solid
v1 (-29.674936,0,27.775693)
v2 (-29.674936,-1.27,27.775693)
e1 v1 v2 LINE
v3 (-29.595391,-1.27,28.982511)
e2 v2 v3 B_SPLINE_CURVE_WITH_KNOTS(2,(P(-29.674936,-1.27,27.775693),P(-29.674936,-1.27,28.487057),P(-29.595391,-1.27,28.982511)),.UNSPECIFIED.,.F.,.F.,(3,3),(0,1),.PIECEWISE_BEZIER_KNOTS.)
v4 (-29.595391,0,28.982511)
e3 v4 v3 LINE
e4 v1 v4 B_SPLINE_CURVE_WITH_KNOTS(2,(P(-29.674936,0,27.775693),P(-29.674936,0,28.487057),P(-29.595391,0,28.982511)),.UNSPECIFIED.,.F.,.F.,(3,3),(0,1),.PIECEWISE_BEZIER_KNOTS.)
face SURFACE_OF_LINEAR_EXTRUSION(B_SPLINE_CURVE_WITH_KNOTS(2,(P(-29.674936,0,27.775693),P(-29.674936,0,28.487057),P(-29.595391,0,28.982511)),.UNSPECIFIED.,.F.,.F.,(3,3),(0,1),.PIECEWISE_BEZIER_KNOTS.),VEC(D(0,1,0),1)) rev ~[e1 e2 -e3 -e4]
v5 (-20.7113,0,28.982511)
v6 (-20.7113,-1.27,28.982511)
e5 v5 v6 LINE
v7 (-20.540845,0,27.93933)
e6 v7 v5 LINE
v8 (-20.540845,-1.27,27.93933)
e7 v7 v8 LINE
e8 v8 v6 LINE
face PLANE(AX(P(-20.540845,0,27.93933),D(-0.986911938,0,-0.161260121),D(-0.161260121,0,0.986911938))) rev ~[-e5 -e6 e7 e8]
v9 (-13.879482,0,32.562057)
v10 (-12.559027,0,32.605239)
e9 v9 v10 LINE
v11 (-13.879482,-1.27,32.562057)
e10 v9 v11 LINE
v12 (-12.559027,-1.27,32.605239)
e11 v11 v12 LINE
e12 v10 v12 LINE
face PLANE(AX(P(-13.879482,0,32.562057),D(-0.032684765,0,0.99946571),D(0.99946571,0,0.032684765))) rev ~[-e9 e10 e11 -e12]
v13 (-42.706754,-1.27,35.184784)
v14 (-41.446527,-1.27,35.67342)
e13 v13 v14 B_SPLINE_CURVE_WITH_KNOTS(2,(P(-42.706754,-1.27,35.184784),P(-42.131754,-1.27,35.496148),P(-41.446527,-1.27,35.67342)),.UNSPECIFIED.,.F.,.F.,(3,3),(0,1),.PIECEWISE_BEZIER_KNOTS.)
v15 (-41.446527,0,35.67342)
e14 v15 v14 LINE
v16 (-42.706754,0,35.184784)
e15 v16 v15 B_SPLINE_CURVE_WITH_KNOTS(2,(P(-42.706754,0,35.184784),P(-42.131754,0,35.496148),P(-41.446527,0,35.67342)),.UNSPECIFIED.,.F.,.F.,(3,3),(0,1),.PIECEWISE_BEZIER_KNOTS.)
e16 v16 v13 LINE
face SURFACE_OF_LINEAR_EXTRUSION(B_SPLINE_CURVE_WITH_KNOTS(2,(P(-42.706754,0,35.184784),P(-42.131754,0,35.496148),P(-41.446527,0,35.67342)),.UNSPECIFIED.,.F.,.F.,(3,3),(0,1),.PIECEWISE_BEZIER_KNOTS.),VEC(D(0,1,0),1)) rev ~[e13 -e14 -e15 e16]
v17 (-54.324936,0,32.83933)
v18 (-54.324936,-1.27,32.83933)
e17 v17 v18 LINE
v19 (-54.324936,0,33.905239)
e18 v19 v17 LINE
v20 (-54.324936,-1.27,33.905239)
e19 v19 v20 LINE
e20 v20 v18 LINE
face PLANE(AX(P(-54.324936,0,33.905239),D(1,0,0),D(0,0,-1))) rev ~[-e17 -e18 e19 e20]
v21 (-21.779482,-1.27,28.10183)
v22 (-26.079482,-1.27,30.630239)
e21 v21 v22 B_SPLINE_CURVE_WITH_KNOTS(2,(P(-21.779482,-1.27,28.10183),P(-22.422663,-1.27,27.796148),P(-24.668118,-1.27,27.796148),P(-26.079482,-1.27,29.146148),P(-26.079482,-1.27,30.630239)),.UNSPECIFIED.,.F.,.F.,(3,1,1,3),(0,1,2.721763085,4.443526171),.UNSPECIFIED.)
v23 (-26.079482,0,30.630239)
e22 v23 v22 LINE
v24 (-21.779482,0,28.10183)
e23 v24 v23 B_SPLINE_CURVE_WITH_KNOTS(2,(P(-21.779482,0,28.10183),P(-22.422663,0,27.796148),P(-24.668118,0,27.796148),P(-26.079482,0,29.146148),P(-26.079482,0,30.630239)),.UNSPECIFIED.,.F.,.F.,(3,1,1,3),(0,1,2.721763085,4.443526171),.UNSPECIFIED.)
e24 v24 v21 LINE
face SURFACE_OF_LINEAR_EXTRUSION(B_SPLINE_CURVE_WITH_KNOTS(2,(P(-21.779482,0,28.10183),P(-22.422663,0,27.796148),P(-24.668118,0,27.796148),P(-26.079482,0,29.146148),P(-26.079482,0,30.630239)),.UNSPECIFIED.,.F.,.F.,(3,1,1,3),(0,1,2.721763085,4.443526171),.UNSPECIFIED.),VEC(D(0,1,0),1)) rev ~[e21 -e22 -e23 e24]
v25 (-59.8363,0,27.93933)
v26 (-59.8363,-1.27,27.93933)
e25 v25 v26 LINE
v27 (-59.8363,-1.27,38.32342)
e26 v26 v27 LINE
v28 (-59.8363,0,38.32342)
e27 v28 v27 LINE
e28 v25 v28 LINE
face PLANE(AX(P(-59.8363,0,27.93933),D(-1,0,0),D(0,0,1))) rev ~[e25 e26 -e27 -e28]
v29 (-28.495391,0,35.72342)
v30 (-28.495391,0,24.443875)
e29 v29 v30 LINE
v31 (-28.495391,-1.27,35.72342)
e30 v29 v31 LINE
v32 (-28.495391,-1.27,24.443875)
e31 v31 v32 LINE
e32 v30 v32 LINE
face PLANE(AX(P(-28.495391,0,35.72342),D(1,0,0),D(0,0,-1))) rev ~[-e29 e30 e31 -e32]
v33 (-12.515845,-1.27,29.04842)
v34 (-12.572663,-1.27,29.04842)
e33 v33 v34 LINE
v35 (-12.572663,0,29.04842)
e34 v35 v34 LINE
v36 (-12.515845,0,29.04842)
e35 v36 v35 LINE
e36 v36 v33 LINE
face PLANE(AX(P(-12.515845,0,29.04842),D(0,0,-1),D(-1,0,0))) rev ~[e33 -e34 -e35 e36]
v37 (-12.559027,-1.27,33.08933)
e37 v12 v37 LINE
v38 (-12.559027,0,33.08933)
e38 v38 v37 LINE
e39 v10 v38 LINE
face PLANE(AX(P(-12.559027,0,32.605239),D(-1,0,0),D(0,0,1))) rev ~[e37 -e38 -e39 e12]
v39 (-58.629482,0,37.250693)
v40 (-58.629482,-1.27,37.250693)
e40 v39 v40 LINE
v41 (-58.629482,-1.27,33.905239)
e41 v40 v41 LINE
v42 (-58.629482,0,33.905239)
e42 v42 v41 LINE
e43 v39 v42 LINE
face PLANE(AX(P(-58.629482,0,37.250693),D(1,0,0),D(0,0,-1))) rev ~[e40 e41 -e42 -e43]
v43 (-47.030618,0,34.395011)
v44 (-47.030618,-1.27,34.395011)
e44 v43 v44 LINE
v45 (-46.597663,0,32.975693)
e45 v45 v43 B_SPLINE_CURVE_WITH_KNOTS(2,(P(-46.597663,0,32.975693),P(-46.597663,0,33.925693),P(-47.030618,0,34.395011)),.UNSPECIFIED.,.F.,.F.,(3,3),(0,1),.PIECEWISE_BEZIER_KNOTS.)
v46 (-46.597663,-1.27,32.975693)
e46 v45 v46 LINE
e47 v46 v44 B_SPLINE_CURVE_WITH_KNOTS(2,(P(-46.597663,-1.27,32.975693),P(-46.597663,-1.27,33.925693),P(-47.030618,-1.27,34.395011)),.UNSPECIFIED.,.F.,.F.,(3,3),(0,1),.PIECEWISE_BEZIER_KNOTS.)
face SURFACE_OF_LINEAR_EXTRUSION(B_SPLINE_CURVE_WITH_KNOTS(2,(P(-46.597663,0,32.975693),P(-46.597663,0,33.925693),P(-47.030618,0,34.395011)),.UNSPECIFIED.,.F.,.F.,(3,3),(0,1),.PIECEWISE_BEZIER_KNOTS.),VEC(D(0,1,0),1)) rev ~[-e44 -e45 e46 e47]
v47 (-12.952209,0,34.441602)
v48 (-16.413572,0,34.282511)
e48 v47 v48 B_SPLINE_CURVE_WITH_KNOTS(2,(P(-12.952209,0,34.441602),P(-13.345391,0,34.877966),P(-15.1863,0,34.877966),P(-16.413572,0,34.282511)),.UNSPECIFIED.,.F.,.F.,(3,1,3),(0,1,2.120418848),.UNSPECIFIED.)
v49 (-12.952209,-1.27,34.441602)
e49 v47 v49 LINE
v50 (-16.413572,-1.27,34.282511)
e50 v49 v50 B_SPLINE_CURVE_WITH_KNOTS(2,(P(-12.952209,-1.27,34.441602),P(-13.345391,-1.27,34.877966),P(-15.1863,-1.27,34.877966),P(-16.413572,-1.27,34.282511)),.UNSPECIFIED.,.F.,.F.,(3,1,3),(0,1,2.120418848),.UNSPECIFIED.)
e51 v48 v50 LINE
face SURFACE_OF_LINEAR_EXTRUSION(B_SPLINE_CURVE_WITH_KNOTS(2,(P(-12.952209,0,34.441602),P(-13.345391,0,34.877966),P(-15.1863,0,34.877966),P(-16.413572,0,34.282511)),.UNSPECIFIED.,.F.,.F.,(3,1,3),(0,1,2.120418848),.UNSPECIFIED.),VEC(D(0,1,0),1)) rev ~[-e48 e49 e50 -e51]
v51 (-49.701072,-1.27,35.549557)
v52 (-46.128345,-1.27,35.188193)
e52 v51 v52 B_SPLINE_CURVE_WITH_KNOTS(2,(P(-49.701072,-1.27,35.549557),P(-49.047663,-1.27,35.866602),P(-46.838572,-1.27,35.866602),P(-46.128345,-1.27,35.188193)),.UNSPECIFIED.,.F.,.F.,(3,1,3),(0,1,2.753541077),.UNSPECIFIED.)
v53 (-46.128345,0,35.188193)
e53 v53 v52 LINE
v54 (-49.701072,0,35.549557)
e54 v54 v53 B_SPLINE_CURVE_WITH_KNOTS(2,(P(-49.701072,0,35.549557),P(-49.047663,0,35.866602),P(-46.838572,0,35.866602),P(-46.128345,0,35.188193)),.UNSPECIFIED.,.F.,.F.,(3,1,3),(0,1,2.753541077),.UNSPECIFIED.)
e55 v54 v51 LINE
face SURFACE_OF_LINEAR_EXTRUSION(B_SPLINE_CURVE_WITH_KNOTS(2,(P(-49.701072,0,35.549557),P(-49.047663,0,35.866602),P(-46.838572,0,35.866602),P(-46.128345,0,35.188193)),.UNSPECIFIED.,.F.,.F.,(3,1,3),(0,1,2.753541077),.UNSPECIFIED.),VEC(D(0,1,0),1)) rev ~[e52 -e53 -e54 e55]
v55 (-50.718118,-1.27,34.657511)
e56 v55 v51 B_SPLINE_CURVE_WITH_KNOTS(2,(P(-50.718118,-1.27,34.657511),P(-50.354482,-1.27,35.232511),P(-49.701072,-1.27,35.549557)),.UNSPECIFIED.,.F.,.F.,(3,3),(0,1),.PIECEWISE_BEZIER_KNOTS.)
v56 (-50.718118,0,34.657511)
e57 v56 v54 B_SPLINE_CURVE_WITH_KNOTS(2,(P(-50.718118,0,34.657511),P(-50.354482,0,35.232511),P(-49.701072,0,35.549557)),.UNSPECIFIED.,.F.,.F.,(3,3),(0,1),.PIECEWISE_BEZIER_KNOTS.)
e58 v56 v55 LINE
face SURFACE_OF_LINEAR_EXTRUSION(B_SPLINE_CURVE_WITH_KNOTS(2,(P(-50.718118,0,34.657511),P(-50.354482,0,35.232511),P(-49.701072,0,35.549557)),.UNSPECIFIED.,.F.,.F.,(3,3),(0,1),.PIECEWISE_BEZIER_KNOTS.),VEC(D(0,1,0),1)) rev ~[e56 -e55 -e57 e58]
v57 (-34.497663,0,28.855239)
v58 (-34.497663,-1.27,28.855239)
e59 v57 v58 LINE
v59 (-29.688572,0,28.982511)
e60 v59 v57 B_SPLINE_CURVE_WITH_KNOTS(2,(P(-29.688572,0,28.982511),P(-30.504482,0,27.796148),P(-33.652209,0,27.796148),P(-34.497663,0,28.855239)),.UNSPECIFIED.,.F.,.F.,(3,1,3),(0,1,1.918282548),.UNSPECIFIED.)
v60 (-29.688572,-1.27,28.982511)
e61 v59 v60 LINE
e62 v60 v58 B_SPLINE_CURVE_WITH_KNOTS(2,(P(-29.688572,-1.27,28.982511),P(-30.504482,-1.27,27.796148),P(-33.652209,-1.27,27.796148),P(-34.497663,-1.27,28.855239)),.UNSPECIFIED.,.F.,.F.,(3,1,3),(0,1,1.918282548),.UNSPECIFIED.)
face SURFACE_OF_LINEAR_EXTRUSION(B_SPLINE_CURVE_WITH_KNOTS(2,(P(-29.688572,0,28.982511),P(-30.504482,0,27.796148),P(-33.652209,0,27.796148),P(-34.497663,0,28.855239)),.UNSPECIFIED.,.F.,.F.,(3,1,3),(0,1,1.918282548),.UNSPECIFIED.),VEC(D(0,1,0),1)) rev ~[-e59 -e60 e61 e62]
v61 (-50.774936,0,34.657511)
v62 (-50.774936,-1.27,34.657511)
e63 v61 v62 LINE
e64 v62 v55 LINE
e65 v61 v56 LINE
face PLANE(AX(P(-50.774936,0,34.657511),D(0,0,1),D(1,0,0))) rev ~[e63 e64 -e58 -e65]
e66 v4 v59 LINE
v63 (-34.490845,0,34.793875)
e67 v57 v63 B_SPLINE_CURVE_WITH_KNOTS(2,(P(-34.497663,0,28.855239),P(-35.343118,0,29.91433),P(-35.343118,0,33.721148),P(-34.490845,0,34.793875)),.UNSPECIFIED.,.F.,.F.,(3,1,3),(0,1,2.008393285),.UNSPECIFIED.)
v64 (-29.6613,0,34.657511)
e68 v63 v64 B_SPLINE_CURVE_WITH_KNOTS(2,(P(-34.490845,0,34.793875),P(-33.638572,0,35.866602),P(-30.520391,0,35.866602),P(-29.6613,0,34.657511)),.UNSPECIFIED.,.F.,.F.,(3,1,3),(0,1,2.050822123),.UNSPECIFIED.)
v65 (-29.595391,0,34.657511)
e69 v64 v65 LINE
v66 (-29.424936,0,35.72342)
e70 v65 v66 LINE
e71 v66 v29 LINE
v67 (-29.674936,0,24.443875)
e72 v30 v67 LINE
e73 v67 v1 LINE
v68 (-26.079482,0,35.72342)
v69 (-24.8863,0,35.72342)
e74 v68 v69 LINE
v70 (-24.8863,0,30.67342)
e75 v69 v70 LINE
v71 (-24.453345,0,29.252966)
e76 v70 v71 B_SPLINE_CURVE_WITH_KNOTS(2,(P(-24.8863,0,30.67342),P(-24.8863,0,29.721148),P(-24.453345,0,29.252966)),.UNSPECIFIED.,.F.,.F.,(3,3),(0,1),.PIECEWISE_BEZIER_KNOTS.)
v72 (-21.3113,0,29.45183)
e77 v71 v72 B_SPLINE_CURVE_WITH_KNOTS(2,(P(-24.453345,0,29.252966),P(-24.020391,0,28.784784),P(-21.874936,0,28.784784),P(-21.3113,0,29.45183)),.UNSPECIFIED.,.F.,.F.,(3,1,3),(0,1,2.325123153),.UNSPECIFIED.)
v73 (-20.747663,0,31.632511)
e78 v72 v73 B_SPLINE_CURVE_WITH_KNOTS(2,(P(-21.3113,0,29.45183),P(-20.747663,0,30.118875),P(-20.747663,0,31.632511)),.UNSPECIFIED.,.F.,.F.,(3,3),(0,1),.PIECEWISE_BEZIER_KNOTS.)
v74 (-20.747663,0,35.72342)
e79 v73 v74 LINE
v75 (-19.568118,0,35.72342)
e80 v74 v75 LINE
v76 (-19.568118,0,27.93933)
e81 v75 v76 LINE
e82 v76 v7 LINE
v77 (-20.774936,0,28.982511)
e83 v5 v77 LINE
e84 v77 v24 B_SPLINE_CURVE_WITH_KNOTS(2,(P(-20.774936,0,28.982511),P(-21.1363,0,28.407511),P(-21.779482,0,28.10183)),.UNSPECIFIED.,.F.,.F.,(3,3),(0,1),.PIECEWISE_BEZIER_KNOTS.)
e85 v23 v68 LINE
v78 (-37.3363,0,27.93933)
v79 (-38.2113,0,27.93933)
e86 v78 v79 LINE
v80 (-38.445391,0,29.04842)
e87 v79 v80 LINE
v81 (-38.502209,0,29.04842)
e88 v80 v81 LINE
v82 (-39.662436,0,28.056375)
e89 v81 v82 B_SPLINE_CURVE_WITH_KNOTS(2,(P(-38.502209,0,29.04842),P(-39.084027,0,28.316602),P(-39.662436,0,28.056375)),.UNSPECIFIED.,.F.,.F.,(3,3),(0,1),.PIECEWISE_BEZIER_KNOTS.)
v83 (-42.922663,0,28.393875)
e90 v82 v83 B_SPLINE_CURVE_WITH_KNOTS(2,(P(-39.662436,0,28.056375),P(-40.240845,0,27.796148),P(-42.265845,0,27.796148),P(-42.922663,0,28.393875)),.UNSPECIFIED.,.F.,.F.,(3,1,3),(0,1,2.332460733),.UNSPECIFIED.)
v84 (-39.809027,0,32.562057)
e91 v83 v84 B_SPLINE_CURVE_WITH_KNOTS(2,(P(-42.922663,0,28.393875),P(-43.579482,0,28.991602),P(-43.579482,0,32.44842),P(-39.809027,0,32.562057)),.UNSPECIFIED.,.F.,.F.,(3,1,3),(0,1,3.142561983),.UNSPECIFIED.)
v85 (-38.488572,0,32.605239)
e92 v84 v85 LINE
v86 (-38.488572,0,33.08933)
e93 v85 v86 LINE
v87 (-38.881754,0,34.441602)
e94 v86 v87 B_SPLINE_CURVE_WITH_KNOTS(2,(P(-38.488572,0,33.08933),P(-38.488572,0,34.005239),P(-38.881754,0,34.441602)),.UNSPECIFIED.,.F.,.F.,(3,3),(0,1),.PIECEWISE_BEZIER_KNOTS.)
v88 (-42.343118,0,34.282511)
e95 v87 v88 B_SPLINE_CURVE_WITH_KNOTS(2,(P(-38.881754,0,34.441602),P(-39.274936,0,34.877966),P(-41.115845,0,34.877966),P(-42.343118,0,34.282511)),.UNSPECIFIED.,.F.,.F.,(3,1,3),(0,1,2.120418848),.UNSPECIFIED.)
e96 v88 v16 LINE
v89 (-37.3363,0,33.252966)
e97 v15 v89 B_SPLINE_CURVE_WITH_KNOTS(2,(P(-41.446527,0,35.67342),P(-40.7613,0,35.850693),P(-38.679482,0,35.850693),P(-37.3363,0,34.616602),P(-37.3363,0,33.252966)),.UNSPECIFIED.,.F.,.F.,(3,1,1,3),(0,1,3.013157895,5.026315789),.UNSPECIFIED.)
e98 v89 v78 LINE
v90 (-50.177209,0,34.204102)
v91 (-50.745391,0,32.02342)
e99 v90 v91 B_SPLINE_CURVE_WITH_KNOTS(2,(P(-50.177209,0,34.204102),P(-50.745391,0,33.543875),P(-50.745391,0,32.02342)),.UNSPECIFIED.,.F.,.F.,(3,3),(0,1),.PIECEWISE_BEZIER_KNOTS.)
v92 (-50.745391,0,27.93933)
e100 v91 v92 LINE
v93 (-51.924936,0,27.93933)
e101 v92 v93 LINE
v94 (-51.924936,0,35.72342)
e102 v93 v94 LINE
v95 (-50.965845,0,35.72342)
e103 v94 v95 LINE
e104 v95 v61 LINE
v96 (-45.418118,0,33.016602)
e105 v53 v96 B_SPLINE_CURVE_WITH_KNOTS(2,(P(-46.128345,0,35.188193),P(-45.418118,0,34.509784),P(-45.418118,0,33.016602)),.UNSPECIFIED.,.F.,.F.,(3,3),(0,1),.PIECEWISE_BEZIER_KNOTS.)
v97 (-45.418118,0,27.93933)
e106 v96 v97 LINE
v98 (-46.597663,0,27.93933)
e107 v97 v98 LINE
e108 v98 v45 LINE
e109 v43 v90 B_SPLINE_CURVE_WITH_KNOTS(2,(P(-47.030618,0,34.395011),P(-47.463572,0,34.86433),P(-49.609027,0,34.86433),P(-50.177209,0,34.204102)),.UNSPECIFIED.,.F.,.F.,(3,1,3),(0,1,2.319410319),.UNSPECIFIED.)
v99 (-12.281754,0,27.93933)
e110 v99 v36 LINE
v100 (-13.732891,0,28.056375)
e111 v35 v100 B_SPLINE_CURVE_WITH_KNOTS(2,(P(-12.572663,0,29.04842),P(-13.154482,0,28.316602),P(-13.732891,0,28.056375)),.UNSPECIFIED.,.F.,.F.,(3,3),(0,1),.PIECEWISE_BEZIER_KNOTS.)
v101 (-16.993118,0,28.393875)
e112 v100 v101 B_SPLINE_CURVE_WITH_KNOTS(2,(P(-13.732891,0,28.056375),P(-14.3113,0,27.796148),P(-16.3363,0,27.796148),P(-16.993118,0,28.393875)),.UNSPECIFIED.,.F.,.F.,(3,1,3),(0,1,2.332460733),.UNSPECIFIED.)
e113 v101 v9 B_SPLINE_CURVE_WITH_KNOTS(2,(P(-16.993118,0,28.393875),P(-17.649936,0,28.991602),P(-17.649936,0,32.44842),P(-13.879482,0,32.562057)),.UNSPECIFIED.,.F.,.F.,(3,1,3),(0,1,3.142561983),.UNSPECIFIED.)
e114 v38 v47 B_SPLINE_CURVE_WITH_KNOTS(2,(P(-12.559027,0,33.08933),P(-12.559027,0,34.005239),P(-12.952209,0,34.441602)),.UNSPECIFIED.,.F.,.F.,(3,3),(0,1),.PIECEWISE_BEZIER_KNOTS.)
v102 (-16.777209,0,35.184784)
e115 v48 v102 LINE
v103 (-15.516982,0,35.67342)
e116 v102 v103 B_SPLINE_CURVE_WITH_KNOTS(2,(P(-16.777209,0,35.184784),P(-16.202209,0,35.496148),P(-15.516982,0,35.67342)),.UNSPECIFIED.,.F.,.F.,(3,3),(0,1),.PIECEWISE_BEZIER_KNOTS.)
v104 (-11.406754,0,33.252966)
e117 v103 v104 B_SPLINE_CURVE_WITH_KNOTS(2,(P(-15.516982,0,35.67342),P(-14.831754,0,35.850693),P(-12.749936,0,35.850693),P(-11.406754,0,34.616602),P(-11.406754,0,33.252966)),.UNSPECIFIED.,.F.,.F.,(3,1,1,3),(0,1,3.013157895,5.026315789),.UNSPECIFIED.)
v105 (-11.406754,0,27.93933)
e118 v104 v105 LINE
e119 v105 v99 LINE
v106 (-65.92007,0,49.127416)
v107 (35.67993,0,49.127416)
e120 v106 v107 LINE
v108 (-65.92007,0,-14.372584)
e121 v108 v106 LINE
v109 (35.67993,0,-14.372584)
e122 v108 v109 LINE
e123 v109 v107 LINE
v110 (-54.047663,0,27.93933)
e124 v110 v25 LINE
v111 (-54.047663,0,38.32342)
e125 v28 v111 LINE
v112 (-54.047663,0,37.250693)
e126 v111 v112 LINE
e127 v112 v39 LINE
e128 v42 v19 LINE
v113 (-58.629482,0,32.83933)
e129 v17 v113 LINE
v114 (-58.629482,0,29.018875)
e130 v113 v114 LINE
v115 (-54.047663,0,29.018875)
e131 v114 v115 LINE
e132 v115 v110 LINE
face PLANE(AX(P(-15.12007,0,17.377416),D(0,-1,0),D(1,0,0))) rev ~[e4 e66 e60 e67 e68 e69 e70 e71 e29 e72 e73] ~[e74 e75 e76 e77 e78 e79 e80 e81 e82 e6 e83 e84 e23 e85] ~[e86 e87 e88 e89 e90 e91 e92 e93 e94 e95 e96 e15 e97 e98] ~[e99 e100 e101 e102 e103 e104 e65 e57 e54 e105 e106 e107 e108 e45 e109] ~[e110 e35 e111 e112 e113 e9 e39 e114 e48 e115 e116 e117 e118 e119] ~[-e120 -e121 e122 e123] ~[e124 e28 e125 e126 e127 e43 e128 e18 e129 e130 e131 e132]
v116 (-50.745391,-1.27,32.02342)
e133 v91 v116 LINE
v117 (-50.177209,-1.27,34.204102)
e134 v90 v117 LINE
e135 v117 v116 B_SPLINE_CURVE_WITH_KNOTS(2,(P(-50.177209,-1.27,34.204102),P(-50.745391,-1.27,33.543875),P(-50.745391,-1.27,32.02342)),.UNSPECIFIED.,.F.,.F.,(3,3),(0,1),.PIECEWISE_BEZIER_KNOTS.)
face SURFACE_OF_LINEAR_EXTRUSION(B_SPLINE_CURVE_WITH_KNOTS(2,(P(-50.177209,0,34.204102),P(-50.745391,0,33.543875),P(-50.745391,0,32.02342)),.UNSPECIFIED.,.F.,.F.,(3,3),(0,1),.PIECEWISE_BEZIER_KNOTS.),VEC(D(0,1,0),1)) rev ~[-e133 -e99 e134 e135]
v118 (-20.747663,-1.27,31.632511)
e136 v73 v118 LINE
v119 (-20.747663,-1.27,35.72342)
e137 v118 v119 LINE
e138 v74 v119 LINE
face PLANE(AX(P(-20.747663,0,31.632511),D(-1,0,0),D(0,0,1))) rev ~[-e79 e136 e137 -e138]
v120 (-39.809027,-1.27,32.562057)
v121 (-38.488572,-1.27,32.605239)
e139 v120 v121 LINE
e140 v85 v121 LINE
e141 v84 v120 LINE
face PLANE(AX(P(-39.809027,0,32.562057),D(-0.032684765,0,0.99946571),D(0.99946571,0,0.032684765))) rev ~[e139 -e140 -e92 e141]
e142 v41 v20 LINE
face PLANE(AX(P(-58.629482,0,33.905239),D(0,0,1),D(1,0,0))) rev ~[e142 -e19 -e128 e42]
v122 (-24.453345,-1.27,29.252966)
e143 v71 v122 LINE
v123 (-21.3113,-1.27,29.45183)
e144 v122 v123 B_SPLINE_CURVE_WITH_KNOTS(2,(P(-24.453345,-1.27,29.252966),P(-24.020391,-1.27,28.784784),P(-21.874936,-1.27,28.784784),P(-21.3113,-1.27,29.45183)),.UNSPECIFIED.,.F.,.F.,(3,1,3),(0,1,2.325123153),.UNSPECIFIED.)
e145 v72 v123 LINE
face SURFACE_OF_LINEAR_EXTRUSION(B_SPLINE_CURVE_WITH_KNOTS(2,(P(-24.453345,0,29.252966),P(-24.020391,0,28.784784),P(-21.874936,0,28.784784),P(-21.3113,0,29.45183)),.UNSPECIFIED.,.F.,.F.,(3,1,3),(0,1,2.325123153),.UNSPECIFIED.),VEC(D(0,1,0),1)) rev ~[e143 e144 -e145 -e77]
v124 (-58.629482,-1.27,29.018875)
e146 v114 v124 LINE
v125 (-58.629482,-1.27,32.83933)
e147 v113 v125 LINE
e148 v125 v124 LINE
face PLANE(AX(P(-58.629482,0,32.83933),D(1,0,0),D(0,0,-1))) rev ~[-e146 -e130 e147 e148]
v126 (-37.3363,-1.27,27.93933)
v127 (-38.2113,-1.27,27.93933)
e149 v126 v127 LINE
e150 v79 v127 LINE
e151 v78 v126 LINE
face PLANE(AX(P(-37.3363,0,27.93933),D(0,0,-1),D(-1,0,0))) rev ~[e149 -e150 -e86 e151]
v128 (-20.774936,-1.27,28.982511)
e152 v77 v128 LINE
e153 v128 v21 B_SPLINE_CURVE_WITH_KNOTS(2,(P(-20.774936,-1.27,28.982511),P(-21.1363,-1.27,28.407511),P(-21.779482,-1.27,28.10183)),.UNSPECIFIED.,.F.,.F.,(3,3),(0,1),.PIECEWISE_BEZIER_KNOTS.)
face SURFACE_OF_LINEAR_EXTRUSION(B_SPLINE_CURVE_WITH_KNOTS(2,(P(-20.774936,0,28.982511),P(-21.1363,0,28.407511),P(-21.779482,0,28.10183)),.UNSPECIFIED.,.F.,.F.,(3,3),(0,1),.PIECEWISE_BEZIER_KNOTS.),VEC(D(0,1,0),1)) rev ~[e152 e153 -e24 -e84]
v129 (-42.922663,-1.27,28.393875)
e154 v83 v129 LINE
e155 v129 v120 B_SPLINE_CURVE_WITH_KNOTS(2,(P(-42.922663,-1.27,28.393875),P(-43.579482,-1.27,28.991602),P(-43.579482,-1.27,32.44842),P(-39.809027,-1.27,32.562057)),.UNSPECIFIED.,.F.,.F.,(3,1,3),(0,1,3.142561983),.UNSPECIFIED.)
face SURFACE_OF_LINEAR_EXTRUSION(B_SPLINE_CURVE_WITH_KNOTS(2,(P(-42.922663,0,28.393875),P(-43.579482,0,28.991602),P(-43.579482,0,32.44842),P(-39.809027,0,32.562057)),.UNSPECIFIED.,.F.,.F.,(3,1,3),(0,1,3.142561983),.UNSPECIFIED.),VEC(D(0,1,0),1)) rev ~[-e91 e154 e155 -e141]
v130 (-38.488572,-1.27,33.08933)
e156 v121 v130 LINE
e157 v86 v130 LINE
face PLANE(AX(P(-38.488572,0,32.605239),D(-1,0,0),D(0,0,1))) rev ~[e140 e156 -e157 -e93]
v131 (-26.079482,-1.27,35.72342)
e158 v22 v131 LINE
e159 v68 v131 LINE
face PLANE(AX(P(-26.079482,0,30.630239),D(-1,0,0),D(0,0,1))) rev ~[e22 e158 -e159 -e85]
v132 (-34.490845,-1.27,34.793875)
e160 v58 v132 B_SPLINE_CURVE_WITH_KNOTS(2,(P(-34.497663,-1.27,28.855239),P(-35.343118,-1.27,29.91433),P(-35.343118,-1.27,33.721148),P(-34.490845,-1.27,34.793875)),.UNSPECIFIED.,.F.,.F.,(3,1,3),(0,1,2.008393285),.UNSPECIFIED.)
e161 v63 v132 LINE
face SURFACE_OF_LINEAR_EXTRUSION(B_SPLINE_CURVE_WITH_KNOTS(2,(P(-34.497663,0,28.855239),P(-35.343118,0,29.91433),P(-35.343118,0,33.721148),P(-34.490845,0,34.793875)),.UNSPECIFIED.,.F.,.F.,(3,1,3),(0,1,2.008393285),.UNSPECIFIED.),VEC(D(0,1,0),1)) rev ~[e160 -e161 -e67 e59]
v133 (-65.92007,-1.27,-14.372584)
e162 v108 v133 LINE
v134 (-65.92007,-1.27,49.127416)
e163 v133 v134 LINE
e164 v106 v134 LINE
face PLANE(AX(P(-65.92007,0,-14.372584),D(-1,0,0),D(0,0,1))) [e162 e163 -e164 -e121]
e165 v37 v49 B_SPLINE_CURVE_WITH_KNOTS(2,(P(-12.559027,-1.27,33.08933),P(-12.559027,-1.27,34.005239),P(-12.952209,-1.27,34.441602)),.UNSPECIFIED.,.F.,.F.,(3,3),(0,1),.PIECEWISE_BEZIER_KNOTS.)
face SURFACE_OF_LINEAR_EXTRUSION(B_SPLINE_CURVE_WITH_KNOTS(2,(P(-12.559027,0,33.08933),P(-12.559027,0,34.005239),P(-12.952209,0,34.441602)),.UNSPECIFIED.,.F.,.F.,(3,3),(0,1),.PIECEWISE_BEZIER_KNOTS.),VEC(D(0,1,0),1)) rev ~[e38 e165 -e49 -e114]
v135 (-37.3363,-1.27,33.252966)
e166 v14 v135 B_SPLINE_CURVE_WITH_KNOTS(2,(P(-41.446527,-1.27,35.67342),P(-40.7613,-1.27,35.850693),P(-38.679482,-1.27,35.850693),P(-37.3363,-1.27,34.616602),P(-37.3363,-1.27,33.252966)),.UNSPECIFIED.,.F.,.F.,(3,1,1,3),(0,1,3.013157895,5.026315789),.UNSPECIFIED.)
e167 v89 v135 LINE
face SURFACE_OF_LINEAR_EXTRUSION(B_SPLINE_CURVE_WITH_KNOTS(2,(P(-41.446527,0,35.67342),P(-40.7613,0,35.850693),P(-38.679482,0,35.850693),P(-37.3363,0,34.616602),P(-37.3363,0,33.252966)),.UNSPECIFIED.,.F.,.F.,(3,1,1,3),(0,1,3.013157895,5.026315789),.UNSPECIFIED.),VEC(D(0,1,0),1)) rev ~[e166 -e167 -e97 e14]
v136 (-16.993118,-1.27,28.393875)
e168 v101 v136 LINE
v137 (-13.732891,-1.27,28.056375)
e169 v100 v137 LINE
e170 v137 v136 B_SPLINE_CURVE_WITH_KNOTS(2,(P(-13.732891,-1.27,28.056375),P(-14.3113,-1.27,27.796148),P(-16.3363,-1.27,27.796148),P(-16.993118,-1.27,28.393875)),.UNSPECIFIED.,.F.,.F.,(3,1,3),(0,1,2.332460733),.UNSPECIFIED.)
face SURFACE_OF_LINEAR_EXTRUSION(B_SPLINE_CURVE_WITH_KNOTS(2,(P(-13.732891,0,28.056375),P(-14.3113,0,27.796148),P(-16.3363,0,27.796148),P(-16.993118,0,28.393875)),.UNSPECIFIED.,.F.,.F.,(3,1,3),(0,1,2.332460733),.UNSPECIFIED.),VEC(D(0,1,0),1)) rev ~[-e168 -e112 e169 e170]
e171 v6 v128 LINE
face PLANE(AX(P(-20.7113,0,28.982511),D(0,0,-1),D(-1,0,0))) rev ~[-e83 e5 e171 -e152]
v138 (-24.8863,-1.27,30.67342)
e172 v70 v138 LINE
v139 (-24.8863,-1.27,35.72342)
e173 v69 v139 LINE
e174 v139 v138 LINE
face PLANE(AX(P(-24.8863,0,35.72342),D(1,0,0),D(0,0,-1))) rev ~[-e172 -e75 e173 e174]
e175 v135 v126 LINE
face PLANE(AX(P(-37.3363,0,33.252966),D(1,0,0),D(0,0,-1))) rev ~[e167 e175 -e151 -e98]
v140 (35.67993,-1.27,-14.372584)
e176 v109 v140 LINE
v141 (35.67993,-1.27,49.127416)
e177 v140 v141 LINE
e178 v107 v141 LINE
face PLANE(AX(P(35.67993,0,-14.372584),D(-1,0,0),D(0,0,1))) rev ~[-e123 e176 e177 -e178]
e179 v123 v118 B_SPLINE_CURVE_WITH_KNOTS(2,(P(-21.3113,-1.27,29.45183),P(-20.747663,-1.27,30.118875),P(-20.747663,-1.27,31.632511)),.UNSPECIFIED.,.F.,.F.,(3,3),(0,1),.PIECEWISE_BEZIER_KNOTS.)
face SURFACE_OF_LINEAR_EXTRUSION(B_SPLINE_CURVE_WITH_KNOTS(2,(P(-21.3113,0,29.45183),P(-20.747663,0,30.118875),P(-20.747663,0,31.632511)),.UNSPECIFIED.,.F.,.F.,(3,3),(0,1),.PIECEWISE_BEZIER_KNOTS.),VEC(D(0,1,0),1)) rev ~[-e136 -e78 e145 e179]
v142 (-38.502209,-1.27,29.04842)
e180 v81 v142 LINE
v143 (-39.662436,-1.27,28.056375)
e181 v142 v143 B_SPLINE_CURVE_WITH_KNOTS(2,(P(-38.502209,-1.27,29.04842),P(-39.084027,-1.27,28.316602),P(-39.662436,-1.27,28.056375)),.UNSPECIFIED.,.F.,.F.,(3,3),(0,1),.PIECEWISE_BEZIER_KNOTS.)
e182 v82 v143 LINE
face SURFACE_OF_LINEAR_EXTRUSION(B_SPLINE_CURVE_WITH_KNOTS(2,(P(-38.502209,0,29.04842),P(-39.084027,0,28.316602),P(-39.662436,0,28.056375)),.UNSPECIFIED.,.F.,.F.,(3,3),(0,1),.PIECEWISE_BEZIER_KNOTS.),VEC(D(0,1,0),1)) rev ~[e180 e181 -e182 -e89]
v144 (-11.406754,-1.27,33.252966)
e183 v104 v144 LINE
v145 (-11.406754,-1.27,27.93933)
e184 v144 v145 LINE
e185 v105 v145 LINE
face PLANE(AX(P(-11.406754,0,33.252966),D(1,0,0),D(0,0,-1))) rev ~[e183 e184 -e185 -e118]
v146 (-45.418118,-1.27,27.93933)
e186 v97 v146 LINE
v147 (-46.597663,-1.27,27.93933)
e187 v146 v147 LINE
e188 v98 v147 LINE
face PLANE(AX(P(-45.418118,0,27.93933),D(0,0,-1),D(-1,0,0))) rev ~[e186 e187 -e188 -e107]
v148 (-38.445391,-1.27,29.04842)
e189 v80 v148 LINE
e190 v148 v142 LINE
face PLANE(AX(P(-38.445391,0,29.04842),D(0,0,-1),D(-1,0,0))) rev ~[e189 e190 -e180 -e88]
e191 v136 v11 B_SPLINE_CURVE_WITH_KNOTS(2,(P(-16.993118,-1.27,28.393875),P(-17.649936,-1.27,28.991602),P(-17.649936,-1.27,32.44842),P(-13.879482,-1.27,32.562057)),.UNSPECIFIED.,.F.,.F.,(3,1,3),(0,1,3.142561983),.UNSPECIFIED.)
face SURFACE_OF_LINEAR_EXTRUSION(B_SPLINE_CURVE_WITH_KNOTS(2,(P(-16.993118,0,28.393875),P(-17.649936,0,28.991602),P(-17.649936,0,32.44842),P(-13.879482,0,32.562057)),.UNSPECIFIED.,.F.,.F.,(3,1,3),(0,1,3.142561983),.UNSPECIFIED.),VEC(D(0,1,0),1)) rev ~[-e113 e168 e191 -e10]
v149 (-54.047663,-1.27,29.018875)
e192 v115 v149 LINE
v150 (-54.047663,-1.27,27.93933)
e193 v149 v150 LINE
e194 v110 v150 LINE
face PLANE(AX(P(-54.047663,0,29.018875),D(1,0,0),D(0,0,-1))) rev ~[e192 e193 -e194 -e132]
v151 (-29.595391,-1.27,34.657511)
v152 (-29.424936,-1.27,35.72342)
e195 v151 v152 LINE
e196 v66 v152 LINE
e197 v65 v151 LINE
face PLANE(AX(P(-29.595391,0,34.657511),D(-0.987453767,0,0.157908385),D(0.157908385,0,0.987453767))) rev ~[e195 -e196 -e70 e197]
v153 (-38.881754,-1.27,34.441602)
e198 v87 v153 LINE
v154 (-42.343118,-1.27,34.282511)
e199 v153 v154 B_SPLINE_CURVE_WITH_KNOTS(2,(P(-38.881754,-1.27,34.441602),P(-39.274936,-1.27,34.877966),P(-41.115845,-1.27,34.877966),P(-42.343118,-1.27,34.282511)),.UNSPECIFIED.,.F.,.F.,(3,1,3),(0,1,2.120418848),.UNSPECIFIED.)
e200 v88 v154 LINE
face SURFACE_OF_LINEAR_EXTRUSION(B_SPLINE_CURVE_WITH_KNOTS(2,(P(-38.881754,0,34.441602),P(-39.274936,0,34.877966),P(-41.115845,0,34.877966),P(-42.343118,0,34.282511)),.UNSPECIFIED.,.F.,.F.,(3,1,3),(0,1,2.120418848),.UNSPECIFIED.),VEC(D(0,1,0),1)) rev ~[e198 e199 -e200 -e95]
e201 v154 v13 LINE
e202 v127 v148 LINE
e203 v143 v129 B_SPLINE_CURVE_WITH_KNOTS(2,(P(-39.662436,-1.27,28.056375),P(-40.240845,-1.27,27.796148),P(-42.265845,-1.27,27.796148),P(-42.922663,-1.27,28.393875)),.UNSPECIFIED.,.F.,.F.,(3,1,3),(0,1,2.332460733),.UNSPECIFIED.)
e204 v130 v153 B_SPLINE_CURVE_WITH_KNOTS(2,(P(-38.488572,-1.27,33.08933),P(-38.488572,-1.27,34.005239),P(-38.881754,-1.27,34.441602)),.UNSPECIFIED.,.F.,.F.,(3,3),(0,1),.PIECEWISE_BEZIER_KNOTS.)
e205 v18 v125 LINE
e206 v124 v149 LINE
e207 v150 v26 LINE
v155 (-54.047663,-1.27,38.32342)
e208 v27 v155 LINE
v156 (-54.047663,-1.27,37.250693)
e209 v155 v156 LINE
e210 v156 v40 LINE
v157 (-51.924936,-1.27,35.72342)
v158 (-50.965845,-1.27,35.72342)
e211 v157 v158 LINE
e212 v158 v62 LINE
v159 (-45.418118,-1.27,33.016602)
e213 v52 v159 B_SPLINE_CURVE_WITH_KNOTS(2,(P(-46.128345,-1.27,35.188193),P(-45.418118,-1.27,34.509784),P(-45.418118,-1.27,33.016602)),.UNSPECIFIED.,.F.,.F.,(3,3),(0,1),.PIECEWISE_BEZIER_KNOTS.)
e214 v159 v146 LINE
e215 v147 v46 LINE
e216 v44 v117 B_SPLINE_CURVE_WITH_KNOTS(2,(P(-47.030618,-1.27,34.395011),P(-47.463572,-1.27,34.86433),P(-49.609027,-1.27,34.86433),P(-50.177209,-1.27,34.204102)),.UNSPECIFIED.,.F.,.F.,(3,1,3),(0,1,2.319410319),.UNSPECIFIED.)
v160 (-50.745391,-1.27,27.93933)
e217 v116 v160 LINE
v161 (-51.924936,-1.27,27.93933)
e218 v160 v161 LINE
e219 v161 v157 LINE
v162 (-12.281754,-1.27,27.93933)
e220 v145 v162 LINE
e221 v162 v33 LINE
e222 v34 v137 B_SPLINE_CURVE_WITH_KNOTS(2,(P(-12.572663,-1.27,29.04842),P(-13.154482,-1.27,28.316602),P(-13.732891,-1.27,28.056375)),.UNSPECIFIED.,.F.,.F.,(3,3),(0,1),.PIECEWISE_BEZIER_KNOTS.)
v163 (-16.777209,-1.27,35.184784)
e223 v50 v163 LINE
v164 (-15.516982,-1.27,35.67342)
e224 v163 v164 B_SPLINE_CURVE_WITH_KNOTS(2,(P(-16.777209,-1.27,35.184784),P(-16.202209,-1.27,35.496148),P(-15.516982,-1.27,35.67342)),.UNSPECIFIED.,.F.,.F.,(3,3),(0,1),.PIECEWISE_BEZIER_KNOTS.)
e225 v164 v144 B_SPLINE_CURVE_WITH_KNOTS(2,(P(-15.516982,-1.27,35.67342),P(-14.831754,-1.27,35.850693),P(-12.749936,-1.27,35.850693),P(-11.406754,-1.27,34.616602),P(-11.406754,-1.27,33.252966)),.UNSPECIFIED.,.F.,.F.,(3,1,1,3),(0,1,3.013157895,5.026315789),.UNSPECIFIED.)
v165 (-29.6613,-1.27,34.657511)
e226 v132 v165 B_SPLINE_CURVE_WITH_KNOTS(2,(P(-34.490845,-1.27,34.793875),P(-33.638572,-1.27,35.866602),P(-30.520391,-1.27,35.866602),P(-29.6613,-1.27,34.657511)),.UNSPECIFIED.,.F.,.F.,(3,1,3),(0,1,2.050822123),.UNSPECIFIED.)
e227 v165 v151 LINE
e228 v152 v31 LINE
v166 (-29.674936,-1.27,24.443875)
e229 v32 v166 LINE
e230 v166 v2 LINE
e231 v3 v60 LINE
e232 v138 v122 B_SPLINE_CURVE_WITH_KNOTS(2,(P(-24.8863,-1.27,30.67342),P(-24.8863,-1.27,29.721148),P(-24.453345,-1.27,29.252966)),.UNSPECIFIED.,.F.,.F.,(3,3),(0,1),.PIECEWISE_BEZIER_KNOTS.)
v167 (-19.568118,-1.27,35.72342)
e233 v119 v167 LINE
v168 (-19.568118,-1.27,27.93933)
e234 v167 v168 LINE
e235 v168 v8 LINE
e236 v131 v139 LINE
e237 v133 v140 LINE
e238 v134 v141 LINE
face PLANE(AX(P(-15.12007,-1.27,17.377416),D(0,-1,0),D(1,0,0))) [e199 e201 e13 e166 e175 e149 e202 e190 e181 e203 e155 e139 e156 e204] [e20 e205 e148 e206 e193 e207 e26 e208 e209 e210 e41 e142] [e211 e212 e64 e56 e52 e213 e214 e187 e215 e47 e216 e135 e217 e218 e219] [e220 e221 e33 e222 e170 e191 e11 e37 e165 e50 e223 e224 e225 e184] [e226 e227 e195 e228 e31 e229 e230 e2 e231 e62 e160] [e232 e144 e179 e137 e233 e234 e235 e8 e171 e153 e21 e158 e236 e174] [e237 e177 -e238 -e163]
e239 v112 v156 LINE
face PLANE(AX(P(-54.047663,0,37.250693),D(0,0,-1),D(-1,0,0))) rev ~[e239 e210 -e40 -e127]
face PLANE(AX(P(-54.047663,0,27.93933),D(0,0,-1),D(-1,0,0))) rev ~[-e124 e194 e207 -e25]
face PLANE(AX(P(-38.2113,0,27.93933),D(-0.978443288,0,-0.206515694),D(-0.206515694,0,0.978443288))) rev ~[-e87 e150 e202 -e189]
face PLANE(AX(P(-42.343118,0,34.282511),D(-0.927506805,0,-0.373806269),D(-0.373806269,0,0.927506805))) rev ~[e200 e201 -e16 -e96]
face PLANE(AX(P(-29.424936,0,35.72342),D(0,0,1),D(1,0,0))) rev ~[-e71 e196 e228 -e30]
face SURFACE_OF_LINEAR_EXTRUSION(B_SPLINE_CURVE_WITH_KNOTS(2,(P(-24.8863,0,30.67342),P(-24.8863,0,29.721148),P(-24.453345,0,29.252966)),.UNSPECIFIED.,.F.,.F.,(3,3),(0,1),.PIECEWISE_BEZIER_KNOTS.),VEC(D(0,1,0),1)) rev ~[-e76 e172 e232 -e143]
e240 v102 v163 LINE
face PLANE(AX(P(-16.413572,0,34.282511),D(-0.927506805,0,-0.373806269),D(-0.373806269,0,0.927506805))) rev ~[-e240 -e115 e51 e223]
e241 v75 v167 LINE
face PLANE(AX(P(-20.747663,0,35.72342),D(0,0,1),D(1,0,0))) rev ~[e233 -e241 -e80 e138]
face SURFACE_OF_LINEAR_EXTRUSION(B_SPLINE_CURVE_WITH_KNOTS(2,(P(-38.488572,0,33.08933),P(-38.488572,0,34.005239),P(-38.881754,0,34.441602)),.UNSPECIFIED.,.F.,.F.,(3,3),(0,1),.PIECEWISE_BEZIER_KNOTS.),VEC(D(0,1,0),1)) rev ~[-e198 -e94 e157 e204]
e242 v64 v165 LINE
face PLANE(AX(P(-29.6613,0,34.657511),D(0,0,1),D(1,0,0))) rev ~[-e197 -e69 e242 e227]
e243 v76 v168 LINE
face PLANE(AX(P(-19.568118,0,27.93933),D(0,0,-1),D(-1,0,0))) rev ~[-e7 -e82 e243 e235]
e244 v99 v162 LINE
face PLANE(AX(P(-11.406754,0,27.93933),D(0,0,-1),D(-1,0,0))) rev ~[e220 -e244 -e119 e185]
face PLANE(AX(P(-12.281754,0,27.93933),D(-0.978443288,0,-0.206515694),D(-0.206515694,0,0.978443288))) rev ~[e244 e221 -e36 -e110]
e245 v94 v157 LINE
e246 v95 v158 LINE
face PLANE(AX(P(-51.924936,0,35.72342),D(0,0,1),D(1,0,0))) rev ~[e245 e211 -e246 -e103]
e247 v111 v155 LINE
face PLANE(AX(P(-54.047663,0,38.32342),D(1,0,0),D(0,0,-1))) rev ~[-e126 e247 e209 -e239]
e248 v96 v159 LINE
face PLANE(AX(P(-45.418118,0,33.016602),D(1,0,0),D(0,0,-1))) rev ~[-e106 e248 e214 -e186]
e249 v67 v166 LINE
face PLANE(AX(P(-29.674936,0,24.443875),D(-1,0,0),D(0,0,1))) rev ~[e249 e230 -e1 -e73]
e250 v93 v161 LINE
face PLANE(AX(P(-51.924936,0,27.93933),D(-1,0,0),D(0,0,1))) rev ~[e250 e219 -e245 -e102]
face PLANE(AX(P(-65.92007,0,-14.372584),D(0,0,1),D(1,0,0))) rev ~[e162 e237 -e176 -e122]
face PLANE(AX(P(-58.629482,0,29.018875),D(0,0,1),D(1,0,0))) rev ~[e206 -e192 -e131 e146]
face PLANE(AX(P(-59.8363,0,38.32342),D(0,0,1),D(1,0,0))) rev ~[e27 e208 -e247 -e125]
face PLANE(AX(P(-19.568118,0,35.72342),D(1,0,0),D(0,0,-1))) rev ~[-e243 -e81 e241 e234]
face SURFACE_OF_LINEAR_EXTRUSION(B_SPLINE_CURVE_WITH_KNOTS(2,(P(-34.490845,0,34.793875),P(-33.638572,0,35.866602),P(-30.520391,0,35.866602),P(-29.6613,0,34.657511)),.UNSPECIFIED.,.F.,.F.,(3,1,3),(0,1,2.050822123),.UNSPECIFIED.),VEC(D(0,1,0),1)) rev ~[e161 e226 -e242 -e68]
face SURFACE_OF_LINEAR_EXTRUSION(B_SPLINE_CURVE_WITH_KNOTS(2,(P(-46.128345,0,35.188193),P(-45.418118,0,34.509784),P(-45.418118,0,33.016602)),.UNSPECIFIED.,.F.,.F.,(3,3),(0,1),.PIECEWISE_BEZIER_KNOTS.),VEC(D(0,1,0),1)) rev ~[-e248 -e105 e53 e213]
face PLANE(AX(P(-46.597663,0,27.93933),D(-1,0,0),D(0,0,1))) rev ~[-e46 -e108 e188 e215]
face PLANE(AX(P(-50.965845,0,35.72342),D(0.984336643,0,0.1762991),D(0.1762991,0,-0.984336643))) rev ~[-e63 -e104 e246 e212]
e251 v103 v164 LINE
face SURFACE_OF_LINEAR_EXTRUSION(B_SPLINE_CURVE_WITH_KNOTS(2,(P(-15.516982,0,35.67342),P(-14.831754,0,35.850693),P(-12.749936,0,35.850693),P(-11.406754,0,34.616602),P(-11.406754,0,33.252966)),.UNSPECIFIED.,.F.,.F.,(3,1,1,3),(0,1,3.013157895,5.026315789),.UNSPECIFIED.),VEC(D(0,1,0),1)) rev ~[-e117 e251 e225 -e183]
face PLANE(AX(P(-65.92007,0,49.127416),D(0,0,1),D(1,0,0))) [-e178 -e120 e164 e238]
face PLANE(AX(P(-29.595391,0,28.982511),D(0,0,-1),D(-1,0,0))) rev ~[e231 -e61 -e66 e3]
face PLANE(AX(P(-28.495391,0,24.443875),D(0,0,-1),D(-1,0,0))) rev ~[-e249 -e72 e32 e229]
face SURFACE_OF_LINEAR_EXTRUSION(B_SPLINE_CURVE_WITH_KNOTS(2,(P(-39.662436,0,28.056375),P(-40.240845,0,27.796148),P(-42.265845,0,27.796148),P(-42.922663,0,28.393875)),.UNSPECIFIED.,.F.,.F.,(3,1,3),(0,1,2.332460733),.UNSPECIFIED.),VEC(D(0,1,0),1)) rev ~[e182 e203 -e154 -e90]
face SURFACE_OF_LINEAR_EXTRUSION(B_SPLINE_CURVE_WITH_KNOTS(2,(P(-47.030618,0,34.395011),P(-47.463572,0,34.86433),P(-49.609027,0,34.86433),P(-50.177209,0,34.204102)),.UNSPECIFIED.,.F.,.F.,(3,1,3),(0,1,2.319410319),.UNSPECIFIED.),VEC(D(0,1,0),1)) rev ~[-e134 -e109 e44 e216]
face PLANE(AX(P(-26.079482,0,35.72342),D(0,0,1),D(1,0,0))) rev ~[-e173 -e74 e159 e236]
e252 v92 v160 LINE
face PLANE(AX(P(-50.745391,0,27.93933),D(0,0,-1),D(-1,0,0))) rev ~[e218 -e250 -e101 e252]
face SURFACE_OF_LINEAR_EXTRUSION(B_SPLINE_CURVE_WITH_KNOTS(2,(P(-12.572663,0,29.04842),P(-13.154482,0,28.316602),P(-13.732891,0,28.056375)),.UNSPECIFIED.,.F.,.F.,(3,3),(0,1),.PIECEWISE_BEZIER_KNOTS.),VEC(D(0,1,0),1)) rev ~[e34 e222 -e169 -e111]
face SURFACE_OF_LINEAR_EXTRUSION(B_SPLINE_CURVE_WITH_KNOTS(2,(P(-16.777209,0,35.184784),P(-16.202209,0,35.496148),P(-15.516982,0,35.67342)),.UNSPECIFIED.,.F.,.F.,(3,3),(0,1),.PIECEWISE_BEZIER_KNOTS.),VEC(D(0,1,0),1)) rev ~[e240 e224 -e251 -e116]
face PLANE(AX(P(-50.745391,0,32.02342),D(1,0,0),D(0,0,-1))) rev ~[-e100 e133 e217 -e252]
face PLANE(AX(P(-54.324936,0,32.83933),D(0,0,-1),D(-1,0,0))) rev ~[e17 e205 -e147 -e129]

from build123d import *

# Parameters (mm, degrees)
F0_W     = 101.6
F0_H     = 63.5
F1_DEPTH = 1.27


with BuildPart() as f1:
    # F0 (on Front) → F1 (new body)
    with BuildSketch(Plane.XZ):
        with Locations((-15.1200704277, 17.3774155871)):
            Rectangle(F0_W, F0_H)
        Polygon((-54.0476633337, 29.0188750451), (-54.0476633337, 27.9393295906), (-59.8362996974, 27.9393295906), (-59.8362996974, 38.3234204997), (-54.0476633337, 38.3234204997), (-54.0476633337, 37.2506932269), (-58.6294815156, 37.2506932269), (-58.6294815156, 33.9052386815), (-54.324936061, 33.9052386815), (-54.324936061, 32.8393295906), (-58.6294815156, 32.8393295906), (-58.6294815156, 29.0188750451), align=None, mode=Mode.SUBTRACT)
        with BuildLine():
            Line((-45.4181178792, 27.9393295906), (-46.5976633337, 27.9393295906))
            Line((-46.5976633337, 27.9393295906), (-46.5976633337, 32.9756932269))
            add(Edge.make_bspline(
                [(-46.5976633337, 32.9756932269), (-46.5976633337, 33.9256932269), (-47.0306178792, 34.3950114088)],
                knots=[0, 0, 0, 1, 1, 1], degree=2))
            add(Edge.make_bspline(
                [(-47.0306178792, 34.3950114088), (-47.4635724247, 34.8643295906), (-48.3885724247, 34.8643295906)],
                knots=[0, 0, 0, 1, 1, 1], degree=2))
            add(Edge.make_bspline(
                [(-48.3885724247, 34.8643295906), (-49.6090269701, 34.8643295906), (-50.1772087883, 34.2041023179)],
                knots=[0, 0, 0, 1, 1, 1], degree=2))
            add(Edge.make_bspline(
                [(-50.1772087883, 34.2041023179), (-50.7453906065, 33.5438750451), (-50.7453906065, 32.0234204997)],
                knots=[0, 0, 0, 1, 1, 1], degree=2))
            Line((-50.7453906065, 32.0234204997), (-50.7453906065, 27.9393295906))
            Line((-50.7453906065, 27.9393295906), (-51.924936061, 27.9393295906))
            Line((-51.924936061, 27.9393295906), (-51.924936061, 35.7234204997))
            Line((-51.924936061, 35.7234204997), (-50.9658451519, 35.7234204997))
            Line((-50.9658451519, 35.7234204997), (-50.774936061, 34.6575114088))
            Line((-50.774936061, 34.6575114088), (-50.7181178792, 34.6575114088))
            add(Edge.make_bspline(
                [(-50.7181178792, 34.6575114088), (-50.3544815156, 35.2325114088), (-49.7010724247, 35.5495568633)],
                knots=[0, 0, 0, 1, 1, 1], degree=2))
            add(Edge.make_bspline(
                [(-49.7010724247, 35.5495568633), (-49.0476633337, 35.8666023179), (-48.2453906065, 35.8666023179)],
                knots=[0, 0, 0, 1, 1, 1], degree=2))
            add(Edge.make_bspline(
                [(-48.2453906065, 35.8666023179), (-46.8385724247, 35.8666023179), (-46.1283451519, 35.1881932269)],
                knots=[0, 0, 0, 1, 1, 1], degree=2))
            add(Edge.make_bspline(
                [(-46.1283451519, 35.1881932269), (-45.4181178792, 34.509784136), (-45.4181178792, 33.0166023179)],
                knots=[0, 0, 0, 1, 1, 1], degree=2))
            Line((-45.4181178792, 33.0166023179), (-45.4181178792, 27.9393295906))
        make_face(mode=Mode.SUBTRACT)
        with BuildLine():
            Line((-37.3362996974, 27.9393295906), (-38.2112996974, 27.9393295906))
            Line((-38.2112996974, 27.9393295906), (-38.4453906065, 29.0484204997))
            Line((-38.4453906065, 29.0484204997), (-38.5022087883, 29.0484204997))
            add(Edge.make_bspline(
                [(-38.5022087883, 29.0484204997), (-39.0840269701, 28.3166023179), (-39.662436061, 28.0563750451)],
                knots=[0, 0, 0, 1, 1, 1], degree=2))
            add(Edge.make_bspline(
                [(-39.662436061, 28.0563750451), (-40.2408451519, 27.7961477724), (-41.1090269701, 27.7961477724)],
                knots=[0, 0, 0, 1, 1, 1], degree=2))
            add(Edge.make_bspline(
                [(-41.1090269701, 27.7961477724), (-42.2658451519, 27.7961477724), (-42.9226633337, 28.3938750451)],
                knots=[0, 0, 0, 1, 1, 1], degree=2))
            add(Edge.make_bspline(
                [(-42.9226633337, 28.3938750451), (-43.5794815156, 28.9916023179), (-43.5794815156, 30.0916023179)],
                knots=[0, 0, 0, 1, 1, 1], degree=2))
            add(Edge.make_bspline(
                [(-43.5794815156, 30.0916023179), (-43.5794815156, 32.4484204997), (-39.8090269701, 32.5620568633)],
                knots=[0, 0, 0, 1, 1, 1], degree=2))
            Line((-39.8090269701, 32.5620568633), (-38.4885724247, 32.6052386815))
            Line((-38.4885724247, 32.6052386815), (-38.4885724247, 33.0893295906))
            add(Edge.make_bspline(
                [(-38.4885724247, 33.0893295906), (-38.4885724247, 34.0052386815), (-38.8817542428, 34.4416023179)],
                knots=[0, 0, 0, 1, 1, 1], degree=2))
            add(Edge.make_bspline(
                [(-38.8817542428, 34.4416023179), (-39.274936061, 34.8779659542), (-40.1431178792, 34.8779659542)],
                knots=[0, 0, 0, 1, 1, 1], degree=2))
            add(Edge.make_bspline(
                [(-40.1431178792, 34.8779659542), (-41.1158451519, 34.8779659542), (-42.3431178792, 34.2825114088)],
                knots=[0, 0, 0, 1, 1, 1], degree=2))
            Line((-42.3431178792, 34.2825114088), (-42.7067542428, 35.184784136))
            add(Edge.make_bspline(
                [(-42.7067542428, 35.184784136), (-42.1317542428, 35.4961477724), (-41.4465269701, 35.6734204997)],
                knots=[0, 0, 0, 1, 1, 1], degree=2))
            add(Edge.make_bspline(
                [(-41.4465269701, 35.6734204997), (-40.7612996974, 35.8506932269), (-40.0703906065, 35.8506932269)],
                knots=[0, 0, 0, 1, 1, 1], degree=2))
            add(Edge.make_bspline(
                [(-40.0703906065, 35.8506932269), (-38.6794815156, 35.8506932269), (-38.0078906065, 35.2336477724)],
                knots=[0, 0, 0, 1, 1, 1], degree=2))
            add(Edge.make_bspline(
                [(-38.0078906065, 35.2336477724), (-37.3362996974, 34.6166023179), (-37.3362996974, 33.2529659542)],
                knots=[0, 0, 0, 1, 1, 1], degree=2))
            Line((-37.3362996974, 33.2529659542), (-37.3362996974, 27.9393295906))
        make_face(mode=Mode.SUBTRACT)
        with BuildLine():
            add(Edge.make_bspline(
                [(-29.6885724247, 28.9825114088), (-30.5044815156, 27.7961477724), (-32.1453906065, 27.7961477724)],
                knots=[0, 0, 0, 1, 1, 1], degree=2))
            add(Edge.make_bspline(
                [(-32.1453906065, 27.7961477724), (-33.6522087883, 27.7961477724), (-34.4976633337, 28.8552386815)],
                knots=[0, 0, 0, 1, 1, 1], degree=2))
            add(Edge.make_bspline(
                [(-34.4976633337, 28.8552386815), (-35.3431178792, 29.9143295906), (-35.3431178792, 31.809784136)],
                knots=[0, 0, 0, 1, 1, 1], degree=2))
            add(Edge.make_bspline(
                [(-35.3431178792, 31.809784136), (-35.3431178792, 33.7211477724), (-34.4908451519, 34.7938750451)],
                knots=[0, 0, 0, 1, 1, 1], degree=2))
            add(Edge.make_bspline(
                [(-34.4908451519, 34.7938750451), (-33.6385724247, 35.8666023179), (-32.1181178792, 35.8666023179)],
                knots=[0, 0, 0, 1, 1, 1], degree=2))
            add(Edge.make_bspline(
                [(-32.1181178792, 35.8666023179), (-30.5203906065, 35.8666023179), (-29.6612996974, 34.6575114088)],
                knots=[0, 0, 0, 1, 1, 1], degree=2))
            Line((-29.6612996974, 34.6575114088), (-29.5953906065, 34.6575114088))
            Line((-29.5953906065, 34.6575114088), (-29.424936061, 35.7234204997))
            Line((-29.424936061, 35.7234204997), (-28.4953906065, 35.7234204997))
            Line((-28.4953906065, 35.7234204997), (-28.4953906065, 24.4438750451))
            Line((-28.4953906065, 24.4438750451), (-29.674936061, 24.4438750451))
            Line((-29.674936061, 24.4438750451), (-29.674936061, 27.7756932269))
            add(Edge.make_bspline(
                [(-29.674936061, 27.7756932269), (-29.674936061, 28.4870568633), (-29.5953906065, 28.9825114088)],
                knots=[0, 0, 0, 1, 1, 1], degree=2))
            Line((-29.5953906065, 28.9825114088), (-29.6885724247, 28.9825114088))
        make_face(mode=Mode.SUBTRACT)
        with BuildLine():
            Line((-26.0794815156, 35.7234204997), (-24.8862996974, 35.7234204997))
            Line((-24.8862996974, 35.7234204997), (-24.8862996974, 30.6734204997))
            add(Edge.make_bspline(
                [(-24.8862996974, 30.6734204997), (-24.8862996974, 29.7211477724), (-24.4533451519, 29.2529659542)],
                knots=[0, 0, 0, 1, 1, 1], degree=2))
            add(Edge.make_bspline(
                [(-24.4533451519, 29.2529659542), (-24.0203906065, 28.784784136), (-23.0976633337, 28.784784136)],
                knots=[0, 0, 0, 1, 1, 1], degree=2))
            add(Edge.make_bspline(
                [(-23.0976633337, 28.784784136), (-21.874936061, 28.784784136), (-21.3112996974, 29.4518295906)],
                knots=[0, 0, 0, 1, 1, 1], degree=2))
            add(Edge.make_bspline(
                [(-21.3112996974, 29.4518295906), (-20.7476633337, 30.1188750451), (-20.7476633337, 31.6325114088)],
                knots=[0, 0, 0, 1, 1, 1], degree=2))
            Line((-20.7476633337, 31.6325114088), (-20.7476633337, 35.7234204997))
            Line((-20.7476633337, 35.7234204997), (-19.5681178792, 35.7234204997))
            Line((-19.5681178792, 35.7234204997), (-19.5681178792, 27.9393295906))
            Line((-19.5681178792, 27.9393295906), (-20.5408451519, 27.9393295906))
            Line((-20.5408451519, 27.9393295906), (-20.7112996974, 28.9825114088))
            Line((-20.7112996974, 28.9825114088), (-20.774936061, 28.9825114088))
            add(Edge.make_bspline(
                [(-20.774936061, 28.9825114088), (-21.1362996974, 28.4075114088), (-21.7794815156, 28.1018295906)],
                knots=[0, 0, 0, 1, 1, 1], degree=2))
            add(Edge.make_bspline(
                [(-21.7794815156, 28.1018295906), (-22.4226633337, 27.7961477724), (-23.2476633337, 27.7961477724)],
                knots=[0, 0, 0, 1, 1, 1], degree=2))
            add(Edge.make_bspline(
                [(-23.2476633337, 27.7961477724), (-24.6681178792, 27.7961477724), (-25.3737996974, 28.4711477724)],
                knots=[0, 0, 0, 1, 1, 1], degree=2))
            add(Edge.make_bspline(
                [(-25.3737996974, 28.4711477724), (-26.0794815156, 29.1461477724), (-26.0794815156, 30.6302386815)],
                knots=[0, 0, 0, 1, 1, 1], degree=2))
            Line((-26.0794815156, 30.6302386815), (-26.0794815156, 35.7234204997))
        make_face(mode=Mode.SUBTRACT)
        with BuildLine():
            Line((-11.4067542428, 27.9393295906), (-12.2817542428, 27.9393295906))
            Line((-12.2817542428, 27.9393295906), (-12.5158451519, 29.0484204997))
            Line((-12.5158451519, 29.0484204997), (-12.5726633337, 29.0484204997))
            add(Edge.make_bspline(
                [(-12.5726633337, 29.0484204997), (-13.1544815156, 28.3166023179), (-13.7328906065, 28.0563750451)],
                knots=[0, 0, 0, 1, 1, 1], degree=2))
            add(Edge.make_bspline(
                [(-13.7328906065, 28.0563750451), (-14.3112996974, 27.7961477724), (-15.1794815156, 27.7961477724)],
                knots=[0, 0, 0, 1, 1, 1], degree=2))
            add(Edge.make_bspline(
                [(-15.1794815156, 27.7961477724), (-16.3362996974, 27.7961477724), (-16.9931178792, 28.3938750451)],
                knots=[0, 0, 0, 1, 1, 1], degree=2))
            add(Edge.make_bspline(
                [(-16.9931178792, 28.3938750451), (-17.649936061, 28.9916023179), (-17.649936061, 30.0916023179)],
                knots=[0, 0, 0, 1, 1, 1], degree=2))
            add(Edge.make_bspline(
                [(-17.649936061, 30.0916023179), (-17.649936061, 32.4484204997), (-13.8794815156, 32.5620568633)],
                knots=[0, 0, 0, 1, 1, 1], degree=2))
            Line((-13.8794815156, 32.5620568633), (-12.5590269701, 32.6052386815))
            Line((-12.5590269701, 32.6052386815), (-12.5590269701, 33.0893295906))
            add(Edge.make_bspline(
                [(-12.5590269701, 33.0893295906), (-12.5590269701, 34.0052386815), (-12.9522087883, 34.4416023179)],
                knots=[0, 0, 0, 1, 1, 1], degree=2))
            add(Edge.make_bspline(
                [(-12.9522087883, 34.4416023179), (-13.3453906065, 34.8779659542), (-14.2135724247, 34.8779659542)],
                knots=[0, 0, 0, 1, 1, 1], degree=2))
            add(Edge.make_bspline(
                [(-14.2135724247, 34.8779659542), (-15.1862996974, 34.8779659542), (-16.4135724247, 34.2825114088)],
                knots=[0, 0, 0, 1, 1, 1], degree=2))
            Line((-16.4135724247, 34.2825114088), (-16.7772087883, 35.184784136))
            add(Edge.make_bspline(
                [(-16.7772087883, 35.184784136), (-16.2022087883, 35.4961477724), (-15.5169815156, 35.6734204997)],
                knots=[0, 0, 0, 1, 1, 1], degree=2))
            add(Edge.make_bspline(
                [(-15.5169815156, 35.6734204997), (-14.8317542428, 35.8506932269), (-14.1408451519, 35.8506932269)],
                knots=[0, 0, 0, 1, 1, 1], degree=2))
            add(Edge.make_bspline(
                [(-14.1408451519, 35.8506932269), (-12.749936061, 35.8506932269), (-12.0783451519, 35.2336477724)],
                knots=[0, 0, 0, 1, 1, 1], degree=2))
            add(Edge.make_bspline(
                [(-12.0783451519, 35.2336477724), (-11.4067542428, 34.6166023179), (-11.4067542428, 33.2529659542)],
                knots=[0, 0, 0, 1, 1, 1], degree=2))
            Line((-11.4067542428, 33.2529659542), (-11.4067542428, 27.9393295906))
        make_face(mode=Mode.SUBTRACT)
    extrude(amount=F1_DEPTH)


solid = f1.part
